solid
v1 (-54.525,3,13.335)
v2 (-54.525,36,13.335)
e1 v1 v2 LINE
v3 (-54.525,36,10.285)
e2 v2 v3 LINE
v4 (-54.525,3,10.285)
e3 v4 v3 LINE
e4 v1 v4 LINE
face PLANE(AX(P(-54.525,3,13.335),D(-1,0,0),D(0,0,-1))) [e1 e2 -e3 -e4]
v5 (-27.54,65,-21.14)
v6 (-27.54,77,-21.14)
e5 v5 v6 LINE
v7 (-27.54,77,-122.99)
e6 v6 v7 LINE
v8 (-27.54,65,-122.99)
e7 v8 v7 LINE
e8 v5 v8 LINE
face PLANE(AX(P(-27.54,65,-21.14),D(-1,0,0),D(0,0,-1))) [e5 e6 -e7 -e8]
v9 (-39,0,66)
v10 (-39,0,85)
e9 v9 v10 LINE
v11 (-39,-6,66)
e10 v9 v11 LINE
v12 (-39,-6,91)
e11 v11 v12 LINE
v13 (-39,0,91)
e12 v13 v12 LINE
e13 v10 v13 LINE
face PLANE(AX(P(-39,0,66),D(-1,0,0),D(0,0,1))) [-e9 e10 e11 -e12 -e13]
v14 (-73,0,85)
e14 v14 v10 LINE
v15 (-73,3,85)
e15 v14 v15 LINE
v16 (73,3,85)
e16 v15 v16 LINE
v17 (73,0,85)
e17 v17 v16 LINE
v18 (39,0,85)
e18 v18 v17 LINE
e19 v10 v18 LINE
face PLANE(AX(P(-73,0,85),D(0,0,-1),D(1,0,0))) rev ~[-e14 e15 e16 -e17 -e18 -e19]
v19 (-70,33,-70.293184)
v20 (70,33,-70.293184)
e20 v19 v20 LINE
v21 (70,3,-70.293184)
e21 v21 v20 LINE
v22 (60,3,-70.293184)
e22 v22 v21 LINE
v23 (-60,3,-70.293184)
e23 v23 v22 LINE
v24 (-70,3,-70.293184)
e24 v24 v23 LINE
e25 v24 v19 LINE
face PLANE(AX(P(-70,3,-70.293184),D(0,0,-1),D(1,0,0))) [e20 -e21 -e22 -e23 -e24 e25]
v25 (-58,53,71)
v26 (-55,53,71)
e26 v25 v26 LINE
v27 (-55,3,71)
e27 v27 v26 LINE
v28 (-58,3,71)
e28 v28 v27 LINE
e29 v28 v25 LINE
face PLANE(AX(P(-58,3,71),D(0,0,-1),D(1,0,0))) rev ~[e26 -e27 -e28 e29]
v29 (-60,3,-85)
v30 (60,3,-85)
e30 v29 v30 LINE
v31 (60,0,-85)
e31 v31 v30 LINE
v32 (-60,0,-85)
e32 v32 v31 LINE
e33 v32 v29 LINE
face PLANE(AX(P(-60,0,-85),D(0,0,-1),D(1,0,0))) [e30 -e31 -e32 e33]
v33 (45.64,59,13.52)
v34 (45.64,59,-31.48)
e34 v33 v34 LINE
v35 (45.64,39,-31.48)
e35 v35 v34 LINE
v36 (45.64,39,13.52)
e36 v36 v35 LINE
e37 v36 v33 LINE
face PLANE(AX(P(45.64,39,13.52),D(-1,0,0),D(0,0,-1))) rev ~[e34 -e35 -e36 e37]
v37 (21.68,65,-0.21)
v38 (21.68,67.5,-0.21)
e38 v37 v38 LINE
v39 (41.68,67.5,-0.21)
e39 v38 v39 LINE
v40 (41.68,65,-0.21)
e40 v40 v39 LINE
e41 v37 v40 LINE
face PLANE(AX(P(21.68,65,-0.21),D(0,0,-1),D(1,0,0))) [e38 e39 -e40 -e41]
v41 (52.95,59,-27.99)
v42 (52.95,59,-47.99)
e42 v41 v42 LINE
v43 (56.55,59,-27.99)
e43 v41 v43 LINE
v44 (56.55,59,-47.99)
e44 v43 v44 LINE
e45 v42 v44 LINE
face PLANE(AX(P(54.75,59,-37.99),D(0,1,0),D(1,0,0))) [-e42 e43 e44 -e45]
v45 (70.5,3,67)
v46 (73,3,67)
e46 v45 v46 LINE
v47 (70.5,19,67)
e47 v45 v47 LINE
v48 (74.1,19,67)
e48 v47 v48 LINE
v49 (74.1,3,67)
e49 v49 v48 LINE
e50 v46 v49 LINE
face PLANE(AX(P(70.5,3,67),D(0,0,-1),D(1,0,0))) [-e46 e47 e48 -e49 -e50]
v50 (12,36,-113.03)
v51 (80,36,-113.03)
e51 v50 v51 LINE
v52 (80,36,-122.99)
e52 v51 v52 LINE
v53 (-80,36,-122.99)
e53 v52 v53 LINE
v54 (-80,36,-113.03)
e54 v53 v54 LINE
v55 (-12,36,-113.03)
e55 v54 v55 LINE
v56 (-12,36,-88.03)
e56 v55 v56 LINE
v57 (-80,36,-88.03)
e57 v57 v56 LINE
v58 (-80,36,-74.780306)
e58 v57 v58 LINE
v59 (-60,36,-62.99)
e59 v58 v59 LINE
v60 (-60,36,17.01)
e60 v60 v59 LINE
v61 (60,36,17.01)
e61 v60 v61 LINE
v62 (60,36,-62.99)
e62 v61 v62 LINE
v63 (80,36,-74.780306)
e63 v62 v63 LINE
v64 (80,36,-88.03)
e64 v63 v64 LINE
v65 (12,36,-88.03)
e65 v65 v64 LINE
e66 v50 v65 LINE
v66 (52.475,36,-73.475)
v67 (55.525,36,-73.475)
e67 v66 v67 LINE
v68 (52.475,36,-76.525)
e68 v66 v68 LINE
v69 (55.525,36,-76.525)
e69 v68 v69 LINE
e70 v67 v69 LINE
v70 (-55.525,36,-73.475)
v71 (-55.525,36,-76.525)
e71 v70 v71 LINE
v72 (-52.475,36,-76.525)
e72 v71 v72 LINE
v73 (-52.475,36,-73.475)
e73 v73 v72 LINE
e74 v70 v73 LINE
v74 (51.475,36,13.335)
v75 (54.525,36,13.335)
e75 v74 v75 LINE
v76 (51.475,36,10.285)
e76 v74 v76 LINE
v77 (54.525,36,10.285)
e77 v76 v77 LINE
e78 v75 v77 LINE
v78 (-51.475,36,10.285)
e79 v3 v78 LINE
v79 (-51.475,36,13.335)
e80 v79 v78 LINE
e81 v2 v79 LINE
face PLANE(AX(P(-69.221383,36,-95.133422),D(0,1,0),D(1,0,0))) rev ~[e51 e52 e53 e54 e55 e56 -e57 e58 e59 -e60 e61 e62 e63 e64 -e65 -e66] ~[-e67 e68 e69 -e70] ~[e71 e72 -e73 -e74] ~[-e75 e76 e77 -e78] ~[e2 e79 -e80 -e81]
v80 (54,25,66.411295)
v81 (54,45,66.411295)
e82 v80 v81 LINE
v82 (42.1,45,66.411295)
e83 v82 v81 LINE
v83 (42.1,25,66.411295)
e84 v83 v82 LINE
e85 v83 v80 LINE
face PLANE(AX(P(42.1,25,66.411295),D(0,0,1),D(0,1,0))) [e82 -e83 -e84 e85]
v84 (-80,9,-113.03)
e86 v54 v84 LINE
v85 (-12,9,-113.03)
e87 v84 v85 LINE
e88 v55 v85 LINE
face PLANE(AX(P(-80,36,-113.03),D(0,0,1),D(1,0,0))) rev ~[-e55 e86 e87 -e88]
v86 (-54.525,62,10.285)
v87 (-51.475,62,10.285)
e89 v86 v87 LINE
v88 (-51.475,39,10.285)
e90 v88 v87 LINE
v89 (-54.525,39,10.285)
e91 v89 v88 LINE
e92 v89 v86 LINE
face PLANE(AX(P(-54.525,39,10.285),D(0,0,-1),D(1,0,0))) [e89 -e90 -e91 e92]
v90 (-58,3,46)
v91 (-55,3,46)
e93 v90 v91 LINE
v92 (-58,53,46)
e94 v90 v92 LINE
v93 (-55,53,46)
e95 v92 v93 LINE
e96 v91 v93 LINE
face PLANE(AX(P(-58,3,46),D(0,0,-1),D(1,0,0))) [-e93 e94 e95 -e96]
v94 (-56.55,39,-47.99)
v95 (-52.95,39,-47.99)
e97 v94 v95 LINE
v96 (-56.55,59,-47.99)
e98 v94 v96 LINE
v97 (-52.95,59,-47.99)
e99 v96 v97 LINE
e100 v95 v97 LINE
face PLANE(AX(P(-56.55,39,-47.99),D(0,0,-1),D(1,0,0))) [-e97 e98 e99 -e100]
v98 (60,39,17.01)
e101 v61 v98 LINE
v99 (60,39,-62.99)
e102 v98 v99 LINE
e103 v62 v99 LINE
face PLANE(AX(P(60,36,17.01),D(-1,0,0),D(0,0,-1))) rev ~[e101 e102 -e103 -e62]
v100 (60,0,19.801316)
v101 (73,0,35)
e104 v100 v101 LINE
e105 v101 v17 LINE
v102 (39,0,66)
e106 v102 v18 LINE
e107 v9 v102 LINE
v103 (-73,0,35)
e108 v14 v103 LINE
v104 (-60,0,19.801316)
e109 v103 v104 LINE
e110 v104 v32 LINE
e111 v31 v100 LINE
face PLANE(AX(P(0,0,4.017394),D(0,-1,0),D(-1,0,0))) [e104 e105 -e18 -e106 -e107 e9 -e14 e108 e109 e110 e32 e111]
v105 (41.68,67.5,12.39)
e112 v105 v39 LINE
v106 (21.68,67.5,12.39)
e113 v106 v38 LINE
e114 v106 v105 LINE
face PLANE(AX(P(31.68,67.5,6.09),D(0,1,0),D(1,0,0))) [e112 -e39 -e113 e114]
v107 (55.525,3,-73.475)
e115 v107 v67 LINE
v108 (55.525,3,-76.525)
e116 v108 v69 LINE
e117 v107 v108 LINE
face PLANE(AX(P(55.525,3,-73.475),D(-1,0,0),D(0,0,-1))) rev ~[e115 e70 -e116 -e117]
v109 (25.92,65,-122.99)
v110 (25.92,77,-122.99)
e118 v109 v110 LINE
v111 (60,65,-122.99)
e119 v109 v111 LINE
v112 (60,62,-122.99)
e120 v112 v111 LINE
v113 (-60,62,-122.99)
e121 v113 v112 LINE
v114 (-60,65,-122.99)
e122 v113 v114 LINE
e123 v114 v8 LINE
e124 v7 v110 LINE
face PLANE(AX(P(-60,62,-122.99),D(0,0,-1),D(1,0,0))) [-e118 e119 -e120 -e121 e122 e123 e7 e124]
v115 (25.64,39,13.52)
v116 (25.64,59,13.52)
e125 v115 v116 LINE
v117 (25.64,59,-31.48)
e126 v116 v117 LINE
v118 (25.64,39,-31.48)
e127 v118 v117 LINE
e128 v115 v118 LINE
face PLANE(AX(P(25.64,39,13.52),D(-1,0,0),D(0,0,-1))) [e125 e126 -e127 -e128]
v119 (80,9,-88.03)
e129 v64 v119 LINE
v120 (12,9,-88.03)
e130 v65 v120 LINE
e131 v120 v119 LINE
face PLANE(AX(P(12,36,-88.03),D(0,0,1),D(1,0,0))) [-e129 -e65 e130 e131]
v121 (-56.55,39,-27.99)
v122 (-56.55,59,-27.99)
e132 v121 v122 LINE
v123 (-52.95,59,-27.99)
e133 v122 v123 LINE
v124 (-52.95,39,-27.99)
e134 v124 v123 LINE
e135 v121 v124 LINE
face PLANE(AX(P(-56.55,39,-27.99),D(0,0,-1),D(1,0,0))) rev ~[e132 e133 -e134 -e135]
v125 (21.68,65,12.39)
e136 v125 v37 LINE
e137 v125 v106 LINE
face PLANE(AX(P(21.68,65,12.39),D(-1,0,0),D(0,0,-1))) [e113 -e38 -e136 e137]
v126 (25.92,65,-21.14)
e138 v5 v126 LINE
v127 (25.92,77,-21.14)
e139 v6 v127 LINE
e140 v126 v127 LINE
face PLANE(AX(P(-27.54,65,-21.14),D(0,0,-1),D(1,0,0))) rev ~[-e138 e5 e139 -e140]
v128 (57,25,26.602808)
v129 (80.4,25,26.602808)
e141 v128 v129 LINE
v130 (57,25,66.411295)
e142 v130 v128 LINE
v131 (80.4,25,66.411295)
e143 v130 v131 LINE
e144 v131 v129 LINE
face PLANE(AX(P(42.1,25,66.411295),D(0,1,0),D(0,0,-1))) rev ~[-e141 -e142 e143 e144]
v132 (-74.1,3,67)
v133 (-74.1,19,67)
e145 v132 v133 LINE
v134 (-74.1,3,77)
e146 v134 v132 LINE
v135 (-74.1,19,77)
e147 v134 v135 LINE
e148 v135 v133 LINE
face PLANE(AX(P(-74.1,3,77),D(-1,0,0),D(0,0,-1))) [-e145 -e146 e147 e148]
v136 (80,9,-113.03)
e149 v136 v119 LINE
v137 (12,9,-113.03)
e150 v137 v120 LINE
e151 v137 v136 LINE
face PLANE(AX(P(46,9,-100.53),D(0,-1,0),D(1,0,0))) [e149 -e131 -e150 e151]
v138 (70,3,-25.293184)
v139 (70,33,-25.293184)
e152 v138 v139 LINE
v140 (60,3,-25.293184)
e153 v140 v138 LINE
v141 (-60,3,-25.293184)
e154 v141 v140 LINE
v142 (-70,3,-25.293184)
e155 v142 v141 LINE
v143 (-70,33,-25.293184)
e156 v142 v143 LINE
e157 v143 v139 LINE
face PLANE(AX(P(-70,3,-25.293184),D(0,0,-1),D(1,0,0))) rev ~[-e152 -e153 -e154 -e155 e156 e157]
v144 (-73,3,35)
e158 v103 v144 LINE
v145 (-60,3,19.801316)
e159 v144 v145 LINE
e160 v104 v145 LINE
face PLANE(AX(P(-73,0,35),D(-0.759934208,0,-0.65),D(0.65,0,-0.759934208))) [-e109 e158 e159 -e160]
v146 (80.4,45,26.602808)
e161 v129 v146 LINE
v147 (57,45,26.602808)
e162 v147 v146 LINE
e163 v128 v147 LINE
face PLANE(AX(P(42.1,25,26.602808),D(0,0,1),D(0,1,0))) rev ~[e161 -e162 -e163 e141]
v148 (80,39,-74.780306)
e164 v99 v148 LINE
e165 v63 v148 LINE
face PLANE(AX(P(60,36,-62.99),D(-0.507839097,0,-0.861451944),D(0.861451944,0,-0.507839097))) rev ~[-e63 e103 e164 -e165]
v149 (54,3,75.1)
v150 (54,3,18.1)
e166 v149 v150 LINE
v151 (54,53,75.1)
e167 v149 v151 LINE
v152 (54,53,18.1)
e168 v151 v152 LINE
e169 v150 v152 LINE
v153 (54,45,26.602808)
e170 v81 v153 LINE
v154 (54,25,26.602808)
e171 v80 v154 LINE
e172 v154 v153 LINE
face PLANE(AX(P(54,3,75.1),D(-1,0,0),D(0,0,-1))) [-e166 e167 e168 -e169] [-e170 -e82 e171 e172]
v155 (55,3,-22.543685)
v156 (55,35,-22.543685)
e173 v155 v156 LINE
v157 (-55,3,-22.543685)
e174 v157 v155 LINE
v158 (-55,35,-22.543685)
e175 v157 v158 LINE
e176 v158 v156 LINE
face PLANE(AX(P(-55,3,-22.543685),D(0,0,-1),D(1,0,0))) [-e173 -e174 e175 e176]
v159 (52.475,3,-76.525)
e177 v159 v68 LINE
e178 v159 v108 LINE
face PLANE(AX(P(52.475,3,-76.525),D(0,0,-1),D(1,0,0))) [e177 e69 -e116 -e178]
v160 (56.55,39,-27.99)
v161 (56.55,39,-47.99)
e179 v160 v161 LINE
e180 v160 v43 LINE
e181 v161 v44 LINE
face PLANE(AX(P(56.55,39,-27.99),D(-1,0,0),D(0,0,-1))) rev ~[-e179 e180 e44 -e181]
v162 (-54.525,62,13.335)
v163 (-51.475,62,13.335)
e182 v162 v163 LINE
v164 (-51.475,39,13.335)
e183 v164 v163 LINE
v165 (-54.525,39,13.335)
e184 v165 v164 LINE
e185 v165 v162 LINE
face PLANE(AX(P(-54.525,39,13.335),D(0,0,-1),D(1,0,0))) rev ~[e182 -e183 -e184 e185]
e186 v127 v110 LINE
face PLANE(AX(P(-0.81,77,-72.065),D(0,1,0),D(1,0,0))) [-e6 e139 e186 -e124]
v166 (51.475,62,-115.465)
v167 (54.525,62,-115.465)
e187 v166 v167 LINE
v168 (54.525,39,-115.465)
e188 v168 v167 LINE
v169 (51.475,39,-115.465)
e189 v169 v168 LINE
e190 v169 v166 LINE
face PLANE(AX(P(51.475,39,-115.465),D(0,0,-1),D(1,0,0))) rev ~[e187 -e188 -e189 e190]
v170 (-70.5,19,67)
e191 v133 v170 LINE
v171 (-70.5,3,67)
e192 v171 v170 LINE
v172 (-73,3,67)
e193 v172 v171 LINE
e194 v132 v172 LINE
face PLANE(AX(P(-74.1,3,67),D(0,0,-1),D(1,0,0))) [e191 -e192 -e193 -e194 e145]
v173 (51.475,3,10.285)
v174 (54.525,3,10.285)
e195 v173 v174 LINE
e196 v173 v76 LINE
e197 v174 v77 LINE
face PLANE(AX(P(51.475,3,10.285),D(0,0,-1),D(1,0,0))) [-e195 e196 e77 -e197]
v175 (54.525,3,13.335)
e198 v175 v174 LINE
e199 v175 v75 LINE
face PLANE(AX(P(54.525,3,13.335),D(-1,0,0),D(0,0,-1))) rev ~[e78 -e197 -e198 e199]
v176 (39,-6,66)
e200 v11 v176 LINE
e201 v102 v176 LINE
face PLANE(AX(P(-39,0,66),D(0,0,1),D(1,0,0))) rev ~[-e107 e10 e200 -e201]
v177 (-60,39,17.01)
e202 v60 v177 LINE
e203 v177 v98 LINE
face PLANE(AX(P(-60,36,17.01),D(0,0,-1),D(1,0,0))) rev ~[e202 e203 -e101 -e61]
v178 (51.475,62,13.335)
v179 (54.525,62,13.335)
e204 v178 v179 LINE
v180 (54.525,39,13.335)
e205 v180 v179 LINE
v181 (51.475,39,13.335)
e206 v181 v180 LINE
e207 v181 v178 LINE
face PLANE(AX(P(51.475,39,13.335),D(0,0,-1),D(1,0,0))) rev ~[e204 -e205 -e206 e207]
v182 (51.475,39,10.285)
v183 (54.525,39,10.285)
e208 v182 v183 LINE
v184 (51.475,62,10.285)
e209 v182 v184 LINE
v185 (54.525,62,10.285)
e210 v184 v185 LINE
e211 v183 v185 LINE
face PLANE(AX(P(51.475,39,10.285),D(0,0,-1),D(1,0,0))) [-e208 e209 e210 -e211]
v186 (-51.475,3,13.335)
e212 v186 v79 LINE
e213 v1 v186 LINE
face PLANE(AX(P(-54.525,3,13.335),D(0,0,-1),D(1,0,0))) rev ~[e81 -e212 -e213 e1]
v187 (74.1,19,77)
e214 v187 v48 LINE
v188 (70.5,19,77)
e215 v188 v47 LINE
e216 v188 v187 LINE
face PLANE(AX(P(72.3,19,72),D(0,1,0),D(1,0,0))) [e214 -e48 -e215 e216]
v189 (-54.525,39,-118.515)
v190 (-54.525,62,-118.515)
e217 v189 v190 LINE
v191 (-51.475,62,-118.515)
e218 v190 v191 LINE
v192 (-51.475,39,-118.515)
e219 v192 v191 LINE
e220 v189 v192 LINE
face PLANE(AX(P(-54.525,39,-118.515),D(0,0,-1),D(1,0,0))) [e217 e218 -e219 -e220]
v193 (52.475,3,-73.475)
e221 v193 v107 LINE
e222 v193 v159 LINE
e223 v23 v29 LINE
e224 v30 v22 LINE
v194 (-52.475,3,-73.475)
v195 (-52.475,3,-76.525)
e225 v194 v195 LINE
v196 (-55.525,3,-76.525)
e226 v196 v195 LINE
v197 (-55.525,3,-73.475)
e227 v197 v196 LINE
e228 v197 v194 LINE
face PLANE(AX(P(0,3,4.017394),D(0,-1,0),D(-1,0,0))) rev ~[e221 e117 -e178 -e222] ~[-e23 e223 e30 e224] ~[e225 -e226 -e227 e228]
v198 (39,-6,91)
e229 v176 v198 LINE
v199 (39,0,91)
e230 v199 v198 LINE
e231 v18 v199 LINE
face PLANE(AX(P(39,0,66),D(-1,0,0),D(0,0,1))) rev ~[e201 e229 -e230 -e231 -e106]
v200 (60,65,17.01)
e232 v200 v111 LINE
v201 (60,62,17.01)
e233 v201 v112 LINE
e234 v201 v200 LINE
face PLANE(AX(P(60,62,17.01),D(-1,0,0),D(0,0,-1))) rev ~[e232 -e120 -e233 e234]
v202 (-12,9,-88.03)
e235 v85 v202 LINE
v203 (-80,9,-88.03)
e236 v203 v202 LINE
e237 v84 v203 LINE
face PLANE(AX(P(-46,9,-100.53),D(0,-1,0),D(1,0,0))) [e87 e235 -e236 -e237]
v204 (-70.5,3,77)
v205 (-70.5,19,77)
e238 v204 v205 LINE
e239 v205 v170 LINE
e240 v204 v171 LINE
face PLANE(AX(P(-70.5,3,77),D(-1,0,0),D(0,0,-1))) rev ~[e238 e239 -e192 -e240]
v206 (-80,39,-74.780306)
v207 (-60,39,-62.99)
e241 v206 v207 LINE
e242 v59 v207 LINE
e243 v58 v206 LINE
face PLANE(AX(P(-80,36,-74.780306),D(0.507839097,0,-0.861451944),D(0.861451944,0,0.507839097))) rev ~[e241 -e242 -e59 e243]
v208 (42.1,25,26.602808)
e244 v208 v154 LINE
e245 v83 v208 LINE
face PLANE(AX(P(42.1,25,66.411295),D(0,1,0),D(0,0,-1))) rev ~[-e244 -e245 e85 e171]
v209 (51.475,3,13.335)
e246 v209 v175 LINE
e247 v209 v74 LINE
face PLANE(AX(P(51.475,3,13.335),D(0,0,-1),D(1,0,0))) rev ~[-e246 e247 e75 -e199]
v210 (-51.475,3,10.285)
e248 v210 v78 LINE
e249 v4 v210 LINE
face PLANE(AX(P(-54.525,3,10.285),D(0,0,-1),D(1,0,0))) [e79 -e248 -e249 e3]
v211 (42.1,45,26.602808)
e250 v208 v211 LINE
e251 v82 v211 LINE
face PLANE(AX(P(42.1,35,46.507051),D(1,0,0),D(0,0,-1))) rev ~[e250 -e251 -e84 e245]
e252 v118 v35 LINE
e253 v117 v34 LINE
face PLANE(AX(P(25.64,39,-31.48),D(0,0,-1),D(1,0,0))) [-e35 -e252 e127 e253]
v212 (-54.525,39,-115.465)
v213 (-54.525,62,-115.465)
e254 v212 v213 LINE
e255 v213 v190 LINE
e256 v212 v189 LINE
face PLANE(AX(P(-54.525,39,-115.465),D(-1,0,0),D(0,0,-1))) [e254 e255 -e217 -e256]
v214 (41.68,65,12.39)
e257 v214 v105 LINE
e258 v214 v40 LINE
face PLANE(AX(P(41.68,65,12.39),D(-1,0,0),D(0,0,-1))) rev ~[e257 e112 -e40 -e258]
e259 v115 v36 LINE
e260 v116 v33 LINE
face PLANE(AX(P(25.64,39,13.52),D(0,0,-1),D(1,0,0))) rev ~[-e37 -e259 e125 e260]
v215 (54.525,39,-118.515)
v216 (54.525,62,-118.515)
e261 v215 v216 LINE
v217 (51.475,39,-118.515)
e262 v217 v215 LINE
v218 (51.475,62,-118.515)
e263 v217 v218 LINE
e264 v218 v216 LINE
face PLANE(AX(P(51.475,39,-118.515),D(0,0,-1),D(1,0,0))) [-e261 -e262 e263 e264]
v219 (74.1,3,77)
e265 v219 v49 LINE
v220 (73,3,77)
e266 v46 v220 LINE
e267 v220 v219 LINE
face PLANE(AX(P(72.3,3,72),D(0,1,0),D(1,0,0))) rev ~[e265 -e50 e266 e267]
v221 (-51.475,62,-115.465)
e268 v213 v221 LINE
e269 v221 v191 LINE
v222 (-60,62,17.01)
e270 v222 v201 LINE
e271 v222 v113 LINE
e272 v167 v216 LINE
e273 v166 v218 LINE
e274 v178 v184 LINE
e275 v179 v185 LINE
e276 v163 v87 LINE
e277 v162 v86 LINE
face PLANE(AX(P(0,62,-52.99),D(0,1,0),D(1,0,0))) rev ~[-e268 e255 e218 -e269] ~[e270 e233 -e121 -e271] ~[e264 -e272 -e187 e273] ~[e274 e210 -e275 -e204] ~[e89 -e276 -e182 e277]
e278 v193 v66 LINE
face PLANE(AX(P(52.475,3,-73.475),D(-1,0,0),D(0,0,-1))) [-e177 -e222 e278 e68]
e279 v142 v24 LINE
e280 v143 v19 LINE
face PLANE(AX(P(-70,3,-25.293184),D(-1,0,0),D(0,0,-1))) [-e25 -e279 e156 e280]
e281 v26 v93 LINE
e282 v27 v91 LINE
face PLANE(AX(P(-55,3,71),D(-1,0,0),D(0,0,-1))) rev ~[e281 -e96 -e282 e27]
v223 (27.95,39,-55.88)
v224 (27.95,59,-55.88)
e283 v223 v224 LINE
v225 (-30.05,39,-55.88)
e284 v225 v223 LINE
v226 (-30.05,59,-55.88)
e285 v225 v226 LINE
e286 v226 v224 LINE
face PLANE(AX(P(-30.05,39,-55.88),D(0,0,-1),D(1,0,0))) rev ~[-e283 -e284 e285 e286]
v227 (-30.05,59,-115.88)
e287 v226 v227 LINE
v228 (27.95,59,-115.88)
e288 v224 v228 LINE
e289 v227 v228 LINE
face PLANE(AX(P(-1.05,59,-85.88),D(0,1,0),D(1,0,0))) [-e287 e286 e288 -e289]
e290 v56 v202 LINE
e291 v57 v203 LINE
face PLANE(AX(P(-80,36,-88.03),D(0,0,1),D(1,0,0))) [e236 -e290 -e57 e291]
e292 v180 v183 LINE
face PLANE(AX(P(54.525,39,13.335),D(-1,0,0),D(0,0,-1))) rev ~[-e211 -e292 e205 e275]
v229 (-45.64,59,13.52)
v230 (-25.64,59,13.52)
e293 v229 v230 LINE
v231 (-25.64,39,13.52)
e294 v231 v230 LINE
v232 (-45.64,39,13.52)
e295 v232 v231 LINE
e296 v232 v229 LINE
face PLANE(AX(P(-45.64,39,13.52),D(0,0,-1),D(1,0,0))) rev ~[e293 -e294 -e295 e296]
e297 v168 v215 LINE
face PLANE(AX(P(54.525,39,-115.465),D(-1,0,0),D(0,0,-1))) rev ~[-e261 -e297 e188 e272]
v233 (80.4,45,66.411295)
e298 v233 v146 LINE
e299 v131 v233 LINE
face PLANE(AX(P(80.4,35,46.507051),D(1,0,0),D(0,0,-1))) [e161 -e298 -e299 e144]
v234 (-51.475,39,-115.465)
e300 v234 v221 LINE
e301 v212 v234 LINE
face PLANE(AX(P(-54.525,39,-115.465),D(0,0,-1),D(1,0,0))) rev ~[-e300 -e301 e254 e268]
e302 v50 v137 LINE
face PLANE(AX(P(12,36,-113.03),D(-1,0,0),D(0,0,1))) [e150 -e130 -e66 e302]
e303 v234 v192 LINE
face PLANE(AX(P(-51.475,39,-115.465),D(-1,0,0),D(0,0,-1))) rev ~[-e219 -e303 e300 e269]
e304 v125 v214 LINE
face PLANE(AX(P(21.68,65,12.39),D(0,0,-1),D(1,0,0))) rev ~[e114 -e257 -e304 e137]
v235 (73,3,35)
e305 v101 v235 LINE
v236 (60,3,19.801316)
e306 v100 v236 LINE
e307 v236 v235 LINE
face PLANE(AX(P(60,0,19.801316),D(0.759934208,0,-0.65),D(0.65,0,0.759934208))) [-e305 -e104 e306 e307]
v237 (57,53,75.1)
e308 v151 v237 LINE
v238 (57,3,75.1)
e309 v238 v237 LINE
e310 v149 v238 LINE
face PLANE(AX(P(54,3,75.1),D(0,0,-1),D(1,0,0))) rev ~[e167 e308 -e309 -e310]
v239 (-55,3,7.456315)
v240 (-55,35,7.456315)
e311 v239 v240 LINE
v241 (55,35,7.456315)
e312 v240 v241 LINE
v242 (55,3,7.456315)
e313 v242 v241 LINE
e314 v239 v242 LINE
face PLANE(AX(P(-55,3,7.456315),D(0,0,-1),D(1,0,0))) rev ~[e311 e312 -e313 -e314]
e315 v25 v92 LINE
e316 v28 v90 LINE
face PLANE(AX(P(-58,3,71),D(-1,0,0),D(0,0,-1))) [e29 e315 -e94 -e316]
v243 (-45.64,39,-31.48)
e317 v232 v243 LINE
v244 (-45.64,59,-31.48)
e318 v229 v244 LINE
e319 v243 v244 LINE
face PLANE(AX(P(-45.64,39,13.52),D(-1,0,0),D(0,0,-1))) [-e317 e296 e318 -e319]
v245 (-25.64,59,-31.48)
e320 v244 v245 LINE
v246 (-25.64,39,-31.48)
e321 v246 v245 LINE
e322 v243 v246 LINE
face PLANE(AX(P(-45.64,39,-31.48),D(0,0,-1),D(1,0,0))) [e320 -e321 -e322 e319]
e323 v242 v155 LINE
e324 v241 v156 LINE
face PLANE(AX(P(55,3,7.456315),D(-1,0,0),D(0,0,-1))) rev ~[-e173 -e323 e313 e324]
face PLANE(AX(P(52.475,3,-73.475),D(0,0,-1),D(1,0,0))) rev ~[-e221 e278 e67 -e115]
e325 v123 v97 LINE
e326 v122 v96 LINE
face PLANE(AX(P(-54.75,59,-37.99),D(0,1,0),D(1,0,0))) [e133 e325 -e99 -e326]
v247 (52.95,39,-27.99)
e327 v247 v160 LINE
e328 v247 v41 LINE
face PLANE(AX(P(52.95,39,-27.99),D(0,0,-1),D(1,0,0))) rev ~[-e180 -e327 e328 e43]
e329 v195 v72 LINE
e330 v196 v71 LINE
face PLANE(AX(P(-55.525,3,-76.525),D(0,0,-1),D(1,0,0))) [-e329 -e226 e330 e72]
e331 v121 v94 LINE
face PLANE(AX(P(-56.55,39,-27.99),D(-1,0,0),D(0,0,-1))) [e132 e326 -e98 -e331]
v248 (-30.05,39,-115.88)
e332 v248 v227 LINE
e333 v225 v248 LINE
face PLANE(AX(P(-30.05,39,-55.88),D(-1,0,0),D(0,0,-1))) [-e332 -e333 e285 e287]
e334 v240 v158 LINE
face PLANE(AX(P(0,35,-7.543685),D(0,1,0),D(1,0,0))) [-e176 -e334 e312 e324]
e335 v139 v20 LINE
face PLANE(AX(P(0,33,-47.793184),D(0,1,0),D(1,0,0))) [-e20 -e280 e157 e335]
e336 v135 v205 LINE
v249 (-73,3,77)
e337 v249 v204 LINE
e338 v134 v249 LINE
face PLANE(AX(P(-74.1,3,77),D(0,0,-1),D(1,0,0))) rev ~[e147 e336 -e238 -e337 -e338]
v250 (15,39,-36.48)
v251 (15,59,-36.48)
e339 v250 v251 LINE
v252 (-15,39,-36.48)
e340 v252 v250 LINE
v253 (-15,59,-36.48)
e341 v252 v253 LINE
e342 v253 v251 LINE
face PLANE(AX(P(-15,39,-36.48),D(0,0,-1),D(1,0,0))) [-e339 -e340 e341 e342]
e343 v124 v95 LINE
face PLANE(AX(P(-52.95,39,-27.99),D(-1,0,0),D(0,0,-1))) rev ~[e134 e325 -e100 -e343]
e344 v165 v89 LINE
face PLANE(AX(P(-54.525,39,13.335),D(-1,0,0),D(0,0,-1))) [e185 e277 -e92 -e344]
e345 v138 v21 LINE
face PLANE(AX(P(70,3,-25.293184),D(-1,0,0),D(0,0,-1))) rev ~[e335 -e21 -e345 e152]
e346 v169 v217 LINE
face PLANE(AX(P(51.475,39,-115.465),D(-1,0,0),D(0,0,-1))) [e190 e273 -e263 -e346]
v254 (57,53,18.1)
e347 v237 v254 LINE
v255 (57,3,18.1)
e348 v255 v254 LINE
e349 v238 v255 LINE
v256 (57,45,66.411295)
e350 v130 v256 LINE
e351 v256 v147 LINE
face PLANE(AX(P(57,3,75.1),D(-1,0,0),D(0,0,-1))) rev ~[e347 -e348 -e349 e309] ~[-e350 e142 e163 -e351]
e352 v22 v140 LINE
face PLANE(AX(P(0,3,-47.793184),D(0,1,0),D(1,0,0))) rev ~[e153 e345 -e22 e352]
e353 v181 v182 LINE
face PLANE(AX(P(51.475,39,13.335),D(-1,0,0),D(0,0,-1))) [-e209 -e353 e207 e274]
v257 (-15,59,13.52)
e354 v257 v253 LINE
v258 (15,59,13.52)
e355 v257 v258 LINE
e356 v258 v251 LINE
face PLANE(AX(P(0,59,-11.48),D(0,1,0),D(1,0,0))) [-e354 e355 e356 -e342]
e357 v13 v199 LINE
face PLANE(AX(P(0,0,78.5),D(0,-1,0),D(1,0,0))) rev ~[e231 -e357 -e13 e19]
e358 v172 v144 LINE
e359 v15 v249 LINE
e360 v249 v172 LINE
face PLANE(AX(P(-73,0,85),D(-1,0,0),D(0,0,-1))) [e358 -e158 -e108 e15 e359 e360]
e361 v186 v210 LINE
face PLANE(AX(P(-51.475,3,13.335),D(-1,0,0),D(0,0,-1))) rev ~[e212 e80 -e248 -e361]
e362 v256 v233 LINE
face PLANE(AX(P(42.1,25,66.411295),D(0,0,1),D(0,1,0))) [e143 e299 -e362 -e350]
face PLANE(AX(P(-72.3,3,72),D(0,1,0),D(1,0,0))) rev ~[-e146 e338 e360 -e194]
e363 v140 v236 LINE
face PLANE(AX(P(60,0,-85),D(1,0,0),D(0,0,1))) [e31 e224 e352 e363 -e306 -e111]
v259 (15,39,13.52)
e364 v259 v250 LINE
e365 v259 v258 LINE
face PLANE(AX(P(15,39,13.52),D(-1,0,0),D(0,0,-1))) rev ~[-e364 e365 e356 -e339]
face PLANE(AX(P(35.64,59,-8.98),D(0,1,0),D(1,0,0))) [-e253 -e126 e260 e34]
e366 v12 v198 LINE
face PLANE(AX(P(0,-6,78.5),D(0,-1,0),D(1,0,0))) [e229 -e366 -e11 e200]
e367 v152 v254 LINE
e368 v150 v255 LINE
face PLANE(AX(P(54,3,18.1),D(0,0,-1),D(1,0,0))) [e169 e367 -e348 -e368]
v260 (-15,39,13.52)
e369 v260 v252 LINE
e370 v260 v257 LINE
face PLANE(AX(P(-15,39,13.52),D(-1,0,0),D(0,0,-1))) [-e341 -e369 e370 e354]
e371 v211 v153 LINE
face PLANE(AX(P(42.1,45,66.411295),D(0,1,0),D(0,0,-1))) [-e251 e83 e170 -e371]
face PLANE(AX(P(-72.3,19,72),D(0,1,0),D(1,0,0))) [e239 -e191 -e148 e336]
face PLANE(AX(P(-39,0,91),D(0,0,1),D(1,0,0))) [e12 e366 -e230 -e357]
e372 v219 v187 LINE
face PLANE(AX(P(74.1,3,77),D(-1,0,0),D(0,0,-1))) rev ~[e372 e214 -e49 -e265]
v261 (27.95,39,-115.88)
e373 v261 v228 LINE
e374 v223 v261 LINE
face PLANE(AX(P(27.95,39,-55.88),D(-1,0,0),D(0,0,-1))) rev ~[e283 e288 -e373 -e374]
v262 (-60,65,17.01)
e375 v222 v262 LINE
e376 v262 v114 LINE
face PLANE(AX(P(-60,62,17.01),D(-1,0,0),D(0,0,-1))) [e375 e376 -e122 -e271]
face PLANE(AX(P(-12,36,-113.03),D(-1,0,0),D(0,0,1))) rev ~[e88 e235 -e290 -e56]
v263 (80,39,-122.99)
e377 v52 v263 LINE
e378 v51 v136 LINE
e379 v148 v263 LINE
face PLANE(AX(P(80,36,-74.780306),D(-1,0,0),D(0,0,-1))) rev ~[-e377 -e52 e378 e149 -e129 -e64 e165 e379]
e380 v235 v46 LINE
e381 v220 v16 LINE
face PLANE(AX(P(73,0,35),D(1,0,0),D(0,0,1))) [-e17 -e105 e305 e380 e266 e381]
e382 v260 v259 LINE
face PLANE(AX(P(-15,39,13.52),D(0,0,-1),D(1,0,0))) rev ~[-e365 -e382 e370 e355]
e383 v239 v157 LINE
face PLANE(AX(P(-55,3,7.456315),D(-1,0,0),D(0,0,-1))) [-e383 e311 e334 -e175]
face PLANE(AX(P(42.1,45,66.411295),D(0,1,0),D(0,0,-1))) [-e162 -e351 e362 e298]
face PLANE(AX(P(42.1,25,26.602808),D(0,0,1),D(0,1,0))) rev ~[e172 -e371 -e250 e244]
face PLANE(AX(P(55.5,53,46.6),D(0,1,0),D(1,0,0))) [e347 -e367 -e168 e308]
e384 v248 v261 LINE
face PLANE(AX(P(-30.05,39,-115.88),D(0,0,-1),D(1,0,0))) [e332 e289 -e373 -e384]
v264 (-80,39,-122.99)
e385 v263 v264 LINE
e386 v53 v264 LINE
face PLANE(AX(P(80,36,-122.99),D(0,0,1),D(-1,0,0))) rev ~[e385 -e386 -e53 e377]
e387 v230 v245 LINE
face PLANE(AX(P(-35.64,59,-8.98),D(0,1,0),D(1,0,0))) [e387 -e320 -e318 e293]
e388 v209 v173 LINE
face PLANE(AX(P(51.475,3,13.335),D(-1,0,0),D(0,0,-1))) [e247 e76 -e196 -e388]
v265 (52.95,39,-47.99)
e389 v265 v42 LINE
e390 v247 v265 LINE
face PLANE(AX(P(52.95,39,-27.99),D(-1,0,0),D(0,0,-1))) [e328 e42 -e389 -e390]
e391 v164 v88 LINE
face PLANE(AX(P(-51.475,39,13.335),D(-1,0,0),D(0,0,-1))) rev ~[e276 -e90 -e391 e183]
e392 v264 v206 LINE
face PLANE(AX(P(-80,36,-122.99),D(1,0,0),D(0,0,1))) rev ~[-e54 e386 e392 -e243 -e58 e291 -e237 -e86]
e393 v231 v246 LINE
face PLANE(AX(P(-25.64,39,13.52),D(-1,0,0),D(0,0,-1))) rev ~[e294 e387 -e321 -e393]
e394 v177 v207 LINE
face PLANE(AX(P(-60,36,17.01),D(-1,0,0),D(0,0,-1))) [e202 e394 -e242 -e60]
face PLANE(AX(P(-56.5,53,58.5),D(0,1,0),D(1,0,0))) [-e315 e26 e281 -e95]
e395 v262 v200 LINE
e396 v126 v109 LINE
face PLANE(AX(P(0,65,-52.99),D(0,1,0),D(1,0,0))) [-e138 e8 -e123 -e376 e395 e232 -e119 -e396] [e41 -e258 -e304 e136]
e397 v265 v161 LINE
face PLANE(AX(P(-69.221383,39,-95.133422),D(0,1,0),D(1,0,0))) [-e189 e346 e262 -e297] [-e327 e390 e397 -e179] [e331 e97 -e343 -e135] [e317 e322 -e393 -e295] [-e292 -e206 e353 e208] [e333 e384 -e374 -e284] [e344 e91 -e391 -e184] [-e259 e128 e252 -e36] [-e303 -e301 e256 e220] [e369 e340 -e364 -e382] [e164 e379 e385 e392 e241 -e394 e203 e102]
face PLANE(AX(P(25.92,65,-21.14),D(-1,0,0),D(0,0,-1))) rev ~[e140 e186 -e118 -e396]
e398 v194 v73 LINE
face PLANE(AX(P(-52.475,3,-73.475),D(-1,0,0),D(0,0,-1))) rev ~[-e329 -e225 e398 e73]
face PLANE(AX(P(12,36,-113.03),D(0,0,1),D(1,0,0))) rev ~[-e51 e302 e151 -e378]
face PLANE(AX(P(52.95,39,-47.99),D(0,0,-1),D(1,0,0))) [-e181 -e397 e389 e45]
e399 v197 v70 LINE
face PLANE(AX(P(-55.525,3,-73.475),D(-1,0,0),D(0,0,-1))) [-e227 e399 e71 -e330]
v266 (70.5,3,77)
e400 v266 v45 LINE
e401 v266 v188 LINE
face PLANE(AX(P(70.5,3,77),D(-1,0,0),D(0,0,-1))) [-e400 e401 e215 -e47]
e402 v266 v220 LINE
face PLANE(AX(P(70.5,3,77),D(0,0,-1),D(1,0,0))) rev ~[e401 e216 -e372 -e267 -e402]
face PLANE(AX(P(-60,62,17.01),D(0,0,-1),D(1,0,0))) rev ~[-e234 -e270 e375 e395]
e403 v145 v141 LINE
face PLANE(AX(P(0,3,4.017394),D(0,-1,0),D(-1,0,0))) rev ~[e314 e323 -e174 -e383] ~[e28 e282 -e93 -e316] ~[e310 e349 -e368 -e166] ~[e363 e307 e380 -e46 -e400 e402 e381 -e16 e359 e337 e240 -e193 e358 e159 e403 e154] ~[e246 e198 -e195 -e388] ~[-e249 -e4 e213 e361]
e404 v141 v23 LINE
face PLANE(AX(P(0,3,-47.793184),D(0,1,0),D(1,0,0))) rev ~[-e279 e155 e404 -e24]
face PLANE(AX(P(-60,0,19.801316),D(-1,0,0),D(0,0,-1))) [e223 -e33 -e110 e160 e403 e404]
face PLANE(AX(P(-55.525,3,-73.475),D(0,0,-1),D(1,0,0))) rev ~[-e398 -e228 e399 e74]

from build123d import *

# Parameters (mm, degrees)
BOSS_EXTRUDE1_DEPTH       = 3
SKETCH2_W                 = 3.05
SKETCH2_H                 = 3.05
BOSS_EXTRUDE2_DEPTH       = 33
SKETCH3_W                 = 120
SKETCH3_H                 = 140
BOSS_EXTRUDE3_DEPTH       = 3
SKETCH4_W                 = 3.05
SKETCH4_H                 = 3.05
BOSS_EXTRUDE4_DEPTH       = 23
SKETCH6_W                 = 120
SKETCH6_H                 = 140
BOSS_EXTRUDE5_DEPTH       = 3
SKETCH7_W                 = 68
SKETCH7_H                 = 25
BOSS_EXTRUDE6_DEPTH       = 27
SKETCH9_W                 = 58
SKETCH9_H                 = 60
SKETCH9_W_2               = 20
SKETCH9_H_2               = 45
SKETCH9_W_3               = 30
SKETCH9_H_3               = 50
BOSS_EXTRUDE7_DEPTH       = 20
SKETCH10_W                = 53.46
SKETCH10_H                = 101.85
BOSS_EXTRUDE8_DEPTH       = 12
SKETCH11_W                = 110
SKETCH11_H                = 30
BOSS_EXTRUDE9_DEPTH       = 32
SKETCH12_W                = 140
SKETCH12_H                = 45
BOSS_EXTRUDE10_DEPTH      = 30
SKETCH13_W                = 20
SKETCH13_H                = 12.6
BOSS_EXTRUDE11_DEPTH      = 2.5
SKETCH14_W                = 3.6
SKETCH14_H                = 20
BOSS_EXTRUDE12_DEPTH      = 20
SKETCH15_W                = 3.6
SKETCH15_H                = 10
BOSS_EXTRUDE13_DEPTH      = 16
SKETCH16_W                = 3
SKETCH16_H                = 57
SKETCH16_H_2              = 25
BOSS_EXTRUDE14_DEPTH      = 50
BOSS_EXTRUDE15_DEPTH      = 23.4
BOSS_EXTRUDE15_DEPTH_BACK = 14.9
SKETCH17_W                = 39.808487161
SKETCH17_H                = 20
SKETCH18_W                = 78
SKETCH18_H                = 25
BOSS_EXTRUDE16_DEPTH      = 6


with BuildPart() as part:
    # Sketch1 → Boss-Extrude1 (new body)
    with BuildSketch(Plane(origin=(0, 0, 0), x_dir=(1, 0, 0), z_dir=(0, 1, 0))):
        Polygon((-73, -35), (-60, -19.801315846), (-60, 85), (60, 85), (60, -19.801315846), (73, -35), (73, -85), (60, -85), (-60, -85), (-73, -85), align=None)
    extrude(amount=BOSS_EXTRUDE1_DEPTH)

    # Sketch2 → Boss-Extrude2 (add)
    with BuildSketch(Plane(origin=(0, 3, 0), x_dir=(1, 0, 0), z_dir=(0, 1, 0))):
        with Locations((-53, -11.81)):
            Rectangle(SKETCH2_W, SKETCH2_H)
        with Locations((53, -11.81)):
            Rectangle(SKETCH2_W, SKETCH2_H)
        with Locations((54, 75)):
            Rectangle(SKETCH2_W, SKETCH2_H)
        with Locations((-54, 75)):
            Rectangle(SKETCH2_W, SKETCH2_H)
    extrude(amount=BOSS_EXTRUDE2_DEPTH)

    # Sketch3 → Boss-Extrude3 (add)
    with BuildSketch(Plane(origin=(0, 36, 0), x_dir=(1, 0, 0), z_dir=(0, 1, 0))):
        Polygon((-80, 74.780305915), (-60, 62.99), (-60, 122.99), (-80, 122.99), align=None)
        with Locations((0, 52.99)):
            Rectangle(SKETCH3_W, SKETCH3_H)
        Polygon((60, 122.99), (60, 62.99), (80, 74.780305915), (80, 122.99), align=None)
    extrude(amount=BOSS_EXTRUDE3_DEPTH)

    # Sketch4 → Boss-Extrude4 (add)
    with BuildSketch(Plane(origin=(0, 39, 0), x_dir=(1, 0, 0), z_dir=(0, 1, 0))):
        with Locations((-53, -11.81)):
            Rectangle(SKETCH4_W, SKETCH4_H)
        with Locations((-53, 116.99)):
            Rectangle(SKETCH4_W, SKETCH4_H)
        with Locations((53, -11.81)):
            Rectangle(SKETCH4_W, SKETCH4_H)
        with Locations((53, 116.99)):
            Rectangle(SKETCH4_W, SKETCH4_H)
    extrude(amount=BOSS_EXTRUDE4_DEPTH)

    # Sketch6 → Boss-Extrude5 (add)
    with BuildSketch(Plane(origin=(0, 62, 0), x_dir=(1, 0, 0), z_dir=(0, 1, 0))):
        with Locations((0, 52.99)):
            Rectangle(SKETCH6_W, SKETCH6_H)
    extrude(amount=BOSS_EXTRUDE5_DEPTH)

    # Sketch7 → Boss-Extrude6 (add)
    with BuildSketch(Plane.XZ.offset(-36)):
        with Locations((-46, -100.53)):
            Rectangle(SKETCH7_W, SKETCH7_H)
        with Locations((46, -100.53)):
            Rectangle(SKETCH7_W, SKETCH7_H)
    extrude(amount=BOSS_EXTRUDE6_DEPTH)

    # Sketch9 → Boss-Extrude7 (add)
    with BuildSketch(Plane(origin=(0, 39, 0), x_dir=(1, 0, 0), z_dir=(0, 1, 0))):
        with Locations((-1.05, 85.88)):
            Rectangle(SKETCH9_W, SKETCH9_H)
        with Locations((-35.64, 8.98)):
            Rectangle(SKETCH9_W_2, SKETCH9_H_2)
        with Locations((35.64, 8.98)):
            Rectangle(SKETCH9_W_2, SKETCH9_H_2)
        with Locations((0, 11.48)):
            Rectangle(SKETCH9_W_3, SKETCH9_H_3)
    extrude(amount=BOSS_EXTRUDE7_DEPTH)

    # Sketch10 → Boss-Extrude8 (add)
    with BuildSketch(Plane(origin=(0, 65, 0), x_dir=(1, 0, 0), z_dir=(0, 1, 0))):
        with Locations((-0.81, 72.065)):
            Rectangle(SKETCH10_W, SKETCH10_H)
    extrude(amount=BOSS_EXTRUDE8_DEPTH)

    # Sketch11 → Boss-Extrude9 (add)
    with BuildSketch(Plane(origin=(0, 3, 0), x_dir=(1, 0, 0), z_dir=(0, 1, 0))):
        with Locations((0, 7.543684861)):
            Rectangle(SKETCH11_W, SKETCH11_H)
    extrude(amount=BOSS_EXTRUDE9_DEPTH)

    # Sketch12 → Boss-Extrude10 (add)
    with BuildSketch(Plane(origin=(0, 3, 0), x_dir=(1, 0, 0), z_dir=(0, 1, 0))):
        with Locations((0, 47.793183731)):
            Rectangle(SKETCH12_W, SKETCH12_H)
    extrude(amount=BOSS_EXTRUDE10_DEPTH)

    # Sketch13 → Boss-Extrude11 (add)
    with BuildSketch(Plane(origin=(0, 65, 0), x_dir=(1, 0, 0), z_dir=(0, 1, 0))):
        with Locations((31.68, -6.09)):
            Rectangle(SKETCH13_W, SKETCH13_H)
    extrude(amount=BOSS_EXTRUDE11_DEPTH)

    # Sketch14 → Boss-Extrude12 (add)
    with BuildSketch(Plane(origin=(0, 39, 0), x_dir=(1, 0, 0), z_dir=(0, 1, 0))):
        with Locations((54.75, 37.99)):
            Rectangle(SKETCH14_W, SKETCH14_H)
        with Locations((-54.75, 37.99)):
            Rectangle(SKETCH14_W, SKETCH14_H)
    extrude(amount=BOSS_EXTRUDE12_DEPTH)

    # Sketch15 → Boss-Extrude13 (add)
    with BuildSketch(Plane(origin=(0, 3, 0), x_dir=(1, 0, 0), z_dir=(0, 1, 0))):
        with Locations((72.3, -72)):
            Rectangle(SKETCH15_W, SKETCH15_H)
        with Locations((-72.3, -72)):
            Rectangle(SKETCH15_W, SKETCH15_H)
    extrude(amount=BOSS_EXTRUDE13_DEPTH)

    # Sketch16 → Boss-Extrude14 (add)
    with BuildSketch(Plane(origin=(0, 3, 0), x_dir=(1, 0, 0), z_dir=(0, 1, 0))):
        with Locations((55.5, -46.6)):
            Rectangle(SKETCH16_W, SKETCH16_H)
        with Locations((-56.5, -58.5)):
            Rectangle(SKETCH16_W, SKETCH16_H_2)
    extrude(amount=BOSS_EXTRUDE14_DEPTH)

    # Sketch17 → Boss-Extrude15 (add, two sides: drawn at the far end of the back side and taken through both)
    with BuildSketch(Plane(origin=(57, 0, 0), x_dir=(0, 0, -1), z_dir=(1, 0, 0)).offset(-BOSS_EXTRUDE15_DEPTH_BACK)):
        with Locations((-46.50705122, 35)):
            Rectangle(SKETCH17_W, SKETCH17_H)
    extrude(amount=BOSS_EXTRUDE15_DEPTH + BOSS_EXTRUDE15_DEPTH_BACK)

    # Sketch18 → Boss-Extrude16 (add)
    with BuildSketch(Plane.XZ):
        with Locations((0, 78.5)):
            Rectangle(SKETCH18_W, SKETCH18_H)
    extrude(amount=BOSS_EXTRUDE16_DEPTH)


solid = part.part
